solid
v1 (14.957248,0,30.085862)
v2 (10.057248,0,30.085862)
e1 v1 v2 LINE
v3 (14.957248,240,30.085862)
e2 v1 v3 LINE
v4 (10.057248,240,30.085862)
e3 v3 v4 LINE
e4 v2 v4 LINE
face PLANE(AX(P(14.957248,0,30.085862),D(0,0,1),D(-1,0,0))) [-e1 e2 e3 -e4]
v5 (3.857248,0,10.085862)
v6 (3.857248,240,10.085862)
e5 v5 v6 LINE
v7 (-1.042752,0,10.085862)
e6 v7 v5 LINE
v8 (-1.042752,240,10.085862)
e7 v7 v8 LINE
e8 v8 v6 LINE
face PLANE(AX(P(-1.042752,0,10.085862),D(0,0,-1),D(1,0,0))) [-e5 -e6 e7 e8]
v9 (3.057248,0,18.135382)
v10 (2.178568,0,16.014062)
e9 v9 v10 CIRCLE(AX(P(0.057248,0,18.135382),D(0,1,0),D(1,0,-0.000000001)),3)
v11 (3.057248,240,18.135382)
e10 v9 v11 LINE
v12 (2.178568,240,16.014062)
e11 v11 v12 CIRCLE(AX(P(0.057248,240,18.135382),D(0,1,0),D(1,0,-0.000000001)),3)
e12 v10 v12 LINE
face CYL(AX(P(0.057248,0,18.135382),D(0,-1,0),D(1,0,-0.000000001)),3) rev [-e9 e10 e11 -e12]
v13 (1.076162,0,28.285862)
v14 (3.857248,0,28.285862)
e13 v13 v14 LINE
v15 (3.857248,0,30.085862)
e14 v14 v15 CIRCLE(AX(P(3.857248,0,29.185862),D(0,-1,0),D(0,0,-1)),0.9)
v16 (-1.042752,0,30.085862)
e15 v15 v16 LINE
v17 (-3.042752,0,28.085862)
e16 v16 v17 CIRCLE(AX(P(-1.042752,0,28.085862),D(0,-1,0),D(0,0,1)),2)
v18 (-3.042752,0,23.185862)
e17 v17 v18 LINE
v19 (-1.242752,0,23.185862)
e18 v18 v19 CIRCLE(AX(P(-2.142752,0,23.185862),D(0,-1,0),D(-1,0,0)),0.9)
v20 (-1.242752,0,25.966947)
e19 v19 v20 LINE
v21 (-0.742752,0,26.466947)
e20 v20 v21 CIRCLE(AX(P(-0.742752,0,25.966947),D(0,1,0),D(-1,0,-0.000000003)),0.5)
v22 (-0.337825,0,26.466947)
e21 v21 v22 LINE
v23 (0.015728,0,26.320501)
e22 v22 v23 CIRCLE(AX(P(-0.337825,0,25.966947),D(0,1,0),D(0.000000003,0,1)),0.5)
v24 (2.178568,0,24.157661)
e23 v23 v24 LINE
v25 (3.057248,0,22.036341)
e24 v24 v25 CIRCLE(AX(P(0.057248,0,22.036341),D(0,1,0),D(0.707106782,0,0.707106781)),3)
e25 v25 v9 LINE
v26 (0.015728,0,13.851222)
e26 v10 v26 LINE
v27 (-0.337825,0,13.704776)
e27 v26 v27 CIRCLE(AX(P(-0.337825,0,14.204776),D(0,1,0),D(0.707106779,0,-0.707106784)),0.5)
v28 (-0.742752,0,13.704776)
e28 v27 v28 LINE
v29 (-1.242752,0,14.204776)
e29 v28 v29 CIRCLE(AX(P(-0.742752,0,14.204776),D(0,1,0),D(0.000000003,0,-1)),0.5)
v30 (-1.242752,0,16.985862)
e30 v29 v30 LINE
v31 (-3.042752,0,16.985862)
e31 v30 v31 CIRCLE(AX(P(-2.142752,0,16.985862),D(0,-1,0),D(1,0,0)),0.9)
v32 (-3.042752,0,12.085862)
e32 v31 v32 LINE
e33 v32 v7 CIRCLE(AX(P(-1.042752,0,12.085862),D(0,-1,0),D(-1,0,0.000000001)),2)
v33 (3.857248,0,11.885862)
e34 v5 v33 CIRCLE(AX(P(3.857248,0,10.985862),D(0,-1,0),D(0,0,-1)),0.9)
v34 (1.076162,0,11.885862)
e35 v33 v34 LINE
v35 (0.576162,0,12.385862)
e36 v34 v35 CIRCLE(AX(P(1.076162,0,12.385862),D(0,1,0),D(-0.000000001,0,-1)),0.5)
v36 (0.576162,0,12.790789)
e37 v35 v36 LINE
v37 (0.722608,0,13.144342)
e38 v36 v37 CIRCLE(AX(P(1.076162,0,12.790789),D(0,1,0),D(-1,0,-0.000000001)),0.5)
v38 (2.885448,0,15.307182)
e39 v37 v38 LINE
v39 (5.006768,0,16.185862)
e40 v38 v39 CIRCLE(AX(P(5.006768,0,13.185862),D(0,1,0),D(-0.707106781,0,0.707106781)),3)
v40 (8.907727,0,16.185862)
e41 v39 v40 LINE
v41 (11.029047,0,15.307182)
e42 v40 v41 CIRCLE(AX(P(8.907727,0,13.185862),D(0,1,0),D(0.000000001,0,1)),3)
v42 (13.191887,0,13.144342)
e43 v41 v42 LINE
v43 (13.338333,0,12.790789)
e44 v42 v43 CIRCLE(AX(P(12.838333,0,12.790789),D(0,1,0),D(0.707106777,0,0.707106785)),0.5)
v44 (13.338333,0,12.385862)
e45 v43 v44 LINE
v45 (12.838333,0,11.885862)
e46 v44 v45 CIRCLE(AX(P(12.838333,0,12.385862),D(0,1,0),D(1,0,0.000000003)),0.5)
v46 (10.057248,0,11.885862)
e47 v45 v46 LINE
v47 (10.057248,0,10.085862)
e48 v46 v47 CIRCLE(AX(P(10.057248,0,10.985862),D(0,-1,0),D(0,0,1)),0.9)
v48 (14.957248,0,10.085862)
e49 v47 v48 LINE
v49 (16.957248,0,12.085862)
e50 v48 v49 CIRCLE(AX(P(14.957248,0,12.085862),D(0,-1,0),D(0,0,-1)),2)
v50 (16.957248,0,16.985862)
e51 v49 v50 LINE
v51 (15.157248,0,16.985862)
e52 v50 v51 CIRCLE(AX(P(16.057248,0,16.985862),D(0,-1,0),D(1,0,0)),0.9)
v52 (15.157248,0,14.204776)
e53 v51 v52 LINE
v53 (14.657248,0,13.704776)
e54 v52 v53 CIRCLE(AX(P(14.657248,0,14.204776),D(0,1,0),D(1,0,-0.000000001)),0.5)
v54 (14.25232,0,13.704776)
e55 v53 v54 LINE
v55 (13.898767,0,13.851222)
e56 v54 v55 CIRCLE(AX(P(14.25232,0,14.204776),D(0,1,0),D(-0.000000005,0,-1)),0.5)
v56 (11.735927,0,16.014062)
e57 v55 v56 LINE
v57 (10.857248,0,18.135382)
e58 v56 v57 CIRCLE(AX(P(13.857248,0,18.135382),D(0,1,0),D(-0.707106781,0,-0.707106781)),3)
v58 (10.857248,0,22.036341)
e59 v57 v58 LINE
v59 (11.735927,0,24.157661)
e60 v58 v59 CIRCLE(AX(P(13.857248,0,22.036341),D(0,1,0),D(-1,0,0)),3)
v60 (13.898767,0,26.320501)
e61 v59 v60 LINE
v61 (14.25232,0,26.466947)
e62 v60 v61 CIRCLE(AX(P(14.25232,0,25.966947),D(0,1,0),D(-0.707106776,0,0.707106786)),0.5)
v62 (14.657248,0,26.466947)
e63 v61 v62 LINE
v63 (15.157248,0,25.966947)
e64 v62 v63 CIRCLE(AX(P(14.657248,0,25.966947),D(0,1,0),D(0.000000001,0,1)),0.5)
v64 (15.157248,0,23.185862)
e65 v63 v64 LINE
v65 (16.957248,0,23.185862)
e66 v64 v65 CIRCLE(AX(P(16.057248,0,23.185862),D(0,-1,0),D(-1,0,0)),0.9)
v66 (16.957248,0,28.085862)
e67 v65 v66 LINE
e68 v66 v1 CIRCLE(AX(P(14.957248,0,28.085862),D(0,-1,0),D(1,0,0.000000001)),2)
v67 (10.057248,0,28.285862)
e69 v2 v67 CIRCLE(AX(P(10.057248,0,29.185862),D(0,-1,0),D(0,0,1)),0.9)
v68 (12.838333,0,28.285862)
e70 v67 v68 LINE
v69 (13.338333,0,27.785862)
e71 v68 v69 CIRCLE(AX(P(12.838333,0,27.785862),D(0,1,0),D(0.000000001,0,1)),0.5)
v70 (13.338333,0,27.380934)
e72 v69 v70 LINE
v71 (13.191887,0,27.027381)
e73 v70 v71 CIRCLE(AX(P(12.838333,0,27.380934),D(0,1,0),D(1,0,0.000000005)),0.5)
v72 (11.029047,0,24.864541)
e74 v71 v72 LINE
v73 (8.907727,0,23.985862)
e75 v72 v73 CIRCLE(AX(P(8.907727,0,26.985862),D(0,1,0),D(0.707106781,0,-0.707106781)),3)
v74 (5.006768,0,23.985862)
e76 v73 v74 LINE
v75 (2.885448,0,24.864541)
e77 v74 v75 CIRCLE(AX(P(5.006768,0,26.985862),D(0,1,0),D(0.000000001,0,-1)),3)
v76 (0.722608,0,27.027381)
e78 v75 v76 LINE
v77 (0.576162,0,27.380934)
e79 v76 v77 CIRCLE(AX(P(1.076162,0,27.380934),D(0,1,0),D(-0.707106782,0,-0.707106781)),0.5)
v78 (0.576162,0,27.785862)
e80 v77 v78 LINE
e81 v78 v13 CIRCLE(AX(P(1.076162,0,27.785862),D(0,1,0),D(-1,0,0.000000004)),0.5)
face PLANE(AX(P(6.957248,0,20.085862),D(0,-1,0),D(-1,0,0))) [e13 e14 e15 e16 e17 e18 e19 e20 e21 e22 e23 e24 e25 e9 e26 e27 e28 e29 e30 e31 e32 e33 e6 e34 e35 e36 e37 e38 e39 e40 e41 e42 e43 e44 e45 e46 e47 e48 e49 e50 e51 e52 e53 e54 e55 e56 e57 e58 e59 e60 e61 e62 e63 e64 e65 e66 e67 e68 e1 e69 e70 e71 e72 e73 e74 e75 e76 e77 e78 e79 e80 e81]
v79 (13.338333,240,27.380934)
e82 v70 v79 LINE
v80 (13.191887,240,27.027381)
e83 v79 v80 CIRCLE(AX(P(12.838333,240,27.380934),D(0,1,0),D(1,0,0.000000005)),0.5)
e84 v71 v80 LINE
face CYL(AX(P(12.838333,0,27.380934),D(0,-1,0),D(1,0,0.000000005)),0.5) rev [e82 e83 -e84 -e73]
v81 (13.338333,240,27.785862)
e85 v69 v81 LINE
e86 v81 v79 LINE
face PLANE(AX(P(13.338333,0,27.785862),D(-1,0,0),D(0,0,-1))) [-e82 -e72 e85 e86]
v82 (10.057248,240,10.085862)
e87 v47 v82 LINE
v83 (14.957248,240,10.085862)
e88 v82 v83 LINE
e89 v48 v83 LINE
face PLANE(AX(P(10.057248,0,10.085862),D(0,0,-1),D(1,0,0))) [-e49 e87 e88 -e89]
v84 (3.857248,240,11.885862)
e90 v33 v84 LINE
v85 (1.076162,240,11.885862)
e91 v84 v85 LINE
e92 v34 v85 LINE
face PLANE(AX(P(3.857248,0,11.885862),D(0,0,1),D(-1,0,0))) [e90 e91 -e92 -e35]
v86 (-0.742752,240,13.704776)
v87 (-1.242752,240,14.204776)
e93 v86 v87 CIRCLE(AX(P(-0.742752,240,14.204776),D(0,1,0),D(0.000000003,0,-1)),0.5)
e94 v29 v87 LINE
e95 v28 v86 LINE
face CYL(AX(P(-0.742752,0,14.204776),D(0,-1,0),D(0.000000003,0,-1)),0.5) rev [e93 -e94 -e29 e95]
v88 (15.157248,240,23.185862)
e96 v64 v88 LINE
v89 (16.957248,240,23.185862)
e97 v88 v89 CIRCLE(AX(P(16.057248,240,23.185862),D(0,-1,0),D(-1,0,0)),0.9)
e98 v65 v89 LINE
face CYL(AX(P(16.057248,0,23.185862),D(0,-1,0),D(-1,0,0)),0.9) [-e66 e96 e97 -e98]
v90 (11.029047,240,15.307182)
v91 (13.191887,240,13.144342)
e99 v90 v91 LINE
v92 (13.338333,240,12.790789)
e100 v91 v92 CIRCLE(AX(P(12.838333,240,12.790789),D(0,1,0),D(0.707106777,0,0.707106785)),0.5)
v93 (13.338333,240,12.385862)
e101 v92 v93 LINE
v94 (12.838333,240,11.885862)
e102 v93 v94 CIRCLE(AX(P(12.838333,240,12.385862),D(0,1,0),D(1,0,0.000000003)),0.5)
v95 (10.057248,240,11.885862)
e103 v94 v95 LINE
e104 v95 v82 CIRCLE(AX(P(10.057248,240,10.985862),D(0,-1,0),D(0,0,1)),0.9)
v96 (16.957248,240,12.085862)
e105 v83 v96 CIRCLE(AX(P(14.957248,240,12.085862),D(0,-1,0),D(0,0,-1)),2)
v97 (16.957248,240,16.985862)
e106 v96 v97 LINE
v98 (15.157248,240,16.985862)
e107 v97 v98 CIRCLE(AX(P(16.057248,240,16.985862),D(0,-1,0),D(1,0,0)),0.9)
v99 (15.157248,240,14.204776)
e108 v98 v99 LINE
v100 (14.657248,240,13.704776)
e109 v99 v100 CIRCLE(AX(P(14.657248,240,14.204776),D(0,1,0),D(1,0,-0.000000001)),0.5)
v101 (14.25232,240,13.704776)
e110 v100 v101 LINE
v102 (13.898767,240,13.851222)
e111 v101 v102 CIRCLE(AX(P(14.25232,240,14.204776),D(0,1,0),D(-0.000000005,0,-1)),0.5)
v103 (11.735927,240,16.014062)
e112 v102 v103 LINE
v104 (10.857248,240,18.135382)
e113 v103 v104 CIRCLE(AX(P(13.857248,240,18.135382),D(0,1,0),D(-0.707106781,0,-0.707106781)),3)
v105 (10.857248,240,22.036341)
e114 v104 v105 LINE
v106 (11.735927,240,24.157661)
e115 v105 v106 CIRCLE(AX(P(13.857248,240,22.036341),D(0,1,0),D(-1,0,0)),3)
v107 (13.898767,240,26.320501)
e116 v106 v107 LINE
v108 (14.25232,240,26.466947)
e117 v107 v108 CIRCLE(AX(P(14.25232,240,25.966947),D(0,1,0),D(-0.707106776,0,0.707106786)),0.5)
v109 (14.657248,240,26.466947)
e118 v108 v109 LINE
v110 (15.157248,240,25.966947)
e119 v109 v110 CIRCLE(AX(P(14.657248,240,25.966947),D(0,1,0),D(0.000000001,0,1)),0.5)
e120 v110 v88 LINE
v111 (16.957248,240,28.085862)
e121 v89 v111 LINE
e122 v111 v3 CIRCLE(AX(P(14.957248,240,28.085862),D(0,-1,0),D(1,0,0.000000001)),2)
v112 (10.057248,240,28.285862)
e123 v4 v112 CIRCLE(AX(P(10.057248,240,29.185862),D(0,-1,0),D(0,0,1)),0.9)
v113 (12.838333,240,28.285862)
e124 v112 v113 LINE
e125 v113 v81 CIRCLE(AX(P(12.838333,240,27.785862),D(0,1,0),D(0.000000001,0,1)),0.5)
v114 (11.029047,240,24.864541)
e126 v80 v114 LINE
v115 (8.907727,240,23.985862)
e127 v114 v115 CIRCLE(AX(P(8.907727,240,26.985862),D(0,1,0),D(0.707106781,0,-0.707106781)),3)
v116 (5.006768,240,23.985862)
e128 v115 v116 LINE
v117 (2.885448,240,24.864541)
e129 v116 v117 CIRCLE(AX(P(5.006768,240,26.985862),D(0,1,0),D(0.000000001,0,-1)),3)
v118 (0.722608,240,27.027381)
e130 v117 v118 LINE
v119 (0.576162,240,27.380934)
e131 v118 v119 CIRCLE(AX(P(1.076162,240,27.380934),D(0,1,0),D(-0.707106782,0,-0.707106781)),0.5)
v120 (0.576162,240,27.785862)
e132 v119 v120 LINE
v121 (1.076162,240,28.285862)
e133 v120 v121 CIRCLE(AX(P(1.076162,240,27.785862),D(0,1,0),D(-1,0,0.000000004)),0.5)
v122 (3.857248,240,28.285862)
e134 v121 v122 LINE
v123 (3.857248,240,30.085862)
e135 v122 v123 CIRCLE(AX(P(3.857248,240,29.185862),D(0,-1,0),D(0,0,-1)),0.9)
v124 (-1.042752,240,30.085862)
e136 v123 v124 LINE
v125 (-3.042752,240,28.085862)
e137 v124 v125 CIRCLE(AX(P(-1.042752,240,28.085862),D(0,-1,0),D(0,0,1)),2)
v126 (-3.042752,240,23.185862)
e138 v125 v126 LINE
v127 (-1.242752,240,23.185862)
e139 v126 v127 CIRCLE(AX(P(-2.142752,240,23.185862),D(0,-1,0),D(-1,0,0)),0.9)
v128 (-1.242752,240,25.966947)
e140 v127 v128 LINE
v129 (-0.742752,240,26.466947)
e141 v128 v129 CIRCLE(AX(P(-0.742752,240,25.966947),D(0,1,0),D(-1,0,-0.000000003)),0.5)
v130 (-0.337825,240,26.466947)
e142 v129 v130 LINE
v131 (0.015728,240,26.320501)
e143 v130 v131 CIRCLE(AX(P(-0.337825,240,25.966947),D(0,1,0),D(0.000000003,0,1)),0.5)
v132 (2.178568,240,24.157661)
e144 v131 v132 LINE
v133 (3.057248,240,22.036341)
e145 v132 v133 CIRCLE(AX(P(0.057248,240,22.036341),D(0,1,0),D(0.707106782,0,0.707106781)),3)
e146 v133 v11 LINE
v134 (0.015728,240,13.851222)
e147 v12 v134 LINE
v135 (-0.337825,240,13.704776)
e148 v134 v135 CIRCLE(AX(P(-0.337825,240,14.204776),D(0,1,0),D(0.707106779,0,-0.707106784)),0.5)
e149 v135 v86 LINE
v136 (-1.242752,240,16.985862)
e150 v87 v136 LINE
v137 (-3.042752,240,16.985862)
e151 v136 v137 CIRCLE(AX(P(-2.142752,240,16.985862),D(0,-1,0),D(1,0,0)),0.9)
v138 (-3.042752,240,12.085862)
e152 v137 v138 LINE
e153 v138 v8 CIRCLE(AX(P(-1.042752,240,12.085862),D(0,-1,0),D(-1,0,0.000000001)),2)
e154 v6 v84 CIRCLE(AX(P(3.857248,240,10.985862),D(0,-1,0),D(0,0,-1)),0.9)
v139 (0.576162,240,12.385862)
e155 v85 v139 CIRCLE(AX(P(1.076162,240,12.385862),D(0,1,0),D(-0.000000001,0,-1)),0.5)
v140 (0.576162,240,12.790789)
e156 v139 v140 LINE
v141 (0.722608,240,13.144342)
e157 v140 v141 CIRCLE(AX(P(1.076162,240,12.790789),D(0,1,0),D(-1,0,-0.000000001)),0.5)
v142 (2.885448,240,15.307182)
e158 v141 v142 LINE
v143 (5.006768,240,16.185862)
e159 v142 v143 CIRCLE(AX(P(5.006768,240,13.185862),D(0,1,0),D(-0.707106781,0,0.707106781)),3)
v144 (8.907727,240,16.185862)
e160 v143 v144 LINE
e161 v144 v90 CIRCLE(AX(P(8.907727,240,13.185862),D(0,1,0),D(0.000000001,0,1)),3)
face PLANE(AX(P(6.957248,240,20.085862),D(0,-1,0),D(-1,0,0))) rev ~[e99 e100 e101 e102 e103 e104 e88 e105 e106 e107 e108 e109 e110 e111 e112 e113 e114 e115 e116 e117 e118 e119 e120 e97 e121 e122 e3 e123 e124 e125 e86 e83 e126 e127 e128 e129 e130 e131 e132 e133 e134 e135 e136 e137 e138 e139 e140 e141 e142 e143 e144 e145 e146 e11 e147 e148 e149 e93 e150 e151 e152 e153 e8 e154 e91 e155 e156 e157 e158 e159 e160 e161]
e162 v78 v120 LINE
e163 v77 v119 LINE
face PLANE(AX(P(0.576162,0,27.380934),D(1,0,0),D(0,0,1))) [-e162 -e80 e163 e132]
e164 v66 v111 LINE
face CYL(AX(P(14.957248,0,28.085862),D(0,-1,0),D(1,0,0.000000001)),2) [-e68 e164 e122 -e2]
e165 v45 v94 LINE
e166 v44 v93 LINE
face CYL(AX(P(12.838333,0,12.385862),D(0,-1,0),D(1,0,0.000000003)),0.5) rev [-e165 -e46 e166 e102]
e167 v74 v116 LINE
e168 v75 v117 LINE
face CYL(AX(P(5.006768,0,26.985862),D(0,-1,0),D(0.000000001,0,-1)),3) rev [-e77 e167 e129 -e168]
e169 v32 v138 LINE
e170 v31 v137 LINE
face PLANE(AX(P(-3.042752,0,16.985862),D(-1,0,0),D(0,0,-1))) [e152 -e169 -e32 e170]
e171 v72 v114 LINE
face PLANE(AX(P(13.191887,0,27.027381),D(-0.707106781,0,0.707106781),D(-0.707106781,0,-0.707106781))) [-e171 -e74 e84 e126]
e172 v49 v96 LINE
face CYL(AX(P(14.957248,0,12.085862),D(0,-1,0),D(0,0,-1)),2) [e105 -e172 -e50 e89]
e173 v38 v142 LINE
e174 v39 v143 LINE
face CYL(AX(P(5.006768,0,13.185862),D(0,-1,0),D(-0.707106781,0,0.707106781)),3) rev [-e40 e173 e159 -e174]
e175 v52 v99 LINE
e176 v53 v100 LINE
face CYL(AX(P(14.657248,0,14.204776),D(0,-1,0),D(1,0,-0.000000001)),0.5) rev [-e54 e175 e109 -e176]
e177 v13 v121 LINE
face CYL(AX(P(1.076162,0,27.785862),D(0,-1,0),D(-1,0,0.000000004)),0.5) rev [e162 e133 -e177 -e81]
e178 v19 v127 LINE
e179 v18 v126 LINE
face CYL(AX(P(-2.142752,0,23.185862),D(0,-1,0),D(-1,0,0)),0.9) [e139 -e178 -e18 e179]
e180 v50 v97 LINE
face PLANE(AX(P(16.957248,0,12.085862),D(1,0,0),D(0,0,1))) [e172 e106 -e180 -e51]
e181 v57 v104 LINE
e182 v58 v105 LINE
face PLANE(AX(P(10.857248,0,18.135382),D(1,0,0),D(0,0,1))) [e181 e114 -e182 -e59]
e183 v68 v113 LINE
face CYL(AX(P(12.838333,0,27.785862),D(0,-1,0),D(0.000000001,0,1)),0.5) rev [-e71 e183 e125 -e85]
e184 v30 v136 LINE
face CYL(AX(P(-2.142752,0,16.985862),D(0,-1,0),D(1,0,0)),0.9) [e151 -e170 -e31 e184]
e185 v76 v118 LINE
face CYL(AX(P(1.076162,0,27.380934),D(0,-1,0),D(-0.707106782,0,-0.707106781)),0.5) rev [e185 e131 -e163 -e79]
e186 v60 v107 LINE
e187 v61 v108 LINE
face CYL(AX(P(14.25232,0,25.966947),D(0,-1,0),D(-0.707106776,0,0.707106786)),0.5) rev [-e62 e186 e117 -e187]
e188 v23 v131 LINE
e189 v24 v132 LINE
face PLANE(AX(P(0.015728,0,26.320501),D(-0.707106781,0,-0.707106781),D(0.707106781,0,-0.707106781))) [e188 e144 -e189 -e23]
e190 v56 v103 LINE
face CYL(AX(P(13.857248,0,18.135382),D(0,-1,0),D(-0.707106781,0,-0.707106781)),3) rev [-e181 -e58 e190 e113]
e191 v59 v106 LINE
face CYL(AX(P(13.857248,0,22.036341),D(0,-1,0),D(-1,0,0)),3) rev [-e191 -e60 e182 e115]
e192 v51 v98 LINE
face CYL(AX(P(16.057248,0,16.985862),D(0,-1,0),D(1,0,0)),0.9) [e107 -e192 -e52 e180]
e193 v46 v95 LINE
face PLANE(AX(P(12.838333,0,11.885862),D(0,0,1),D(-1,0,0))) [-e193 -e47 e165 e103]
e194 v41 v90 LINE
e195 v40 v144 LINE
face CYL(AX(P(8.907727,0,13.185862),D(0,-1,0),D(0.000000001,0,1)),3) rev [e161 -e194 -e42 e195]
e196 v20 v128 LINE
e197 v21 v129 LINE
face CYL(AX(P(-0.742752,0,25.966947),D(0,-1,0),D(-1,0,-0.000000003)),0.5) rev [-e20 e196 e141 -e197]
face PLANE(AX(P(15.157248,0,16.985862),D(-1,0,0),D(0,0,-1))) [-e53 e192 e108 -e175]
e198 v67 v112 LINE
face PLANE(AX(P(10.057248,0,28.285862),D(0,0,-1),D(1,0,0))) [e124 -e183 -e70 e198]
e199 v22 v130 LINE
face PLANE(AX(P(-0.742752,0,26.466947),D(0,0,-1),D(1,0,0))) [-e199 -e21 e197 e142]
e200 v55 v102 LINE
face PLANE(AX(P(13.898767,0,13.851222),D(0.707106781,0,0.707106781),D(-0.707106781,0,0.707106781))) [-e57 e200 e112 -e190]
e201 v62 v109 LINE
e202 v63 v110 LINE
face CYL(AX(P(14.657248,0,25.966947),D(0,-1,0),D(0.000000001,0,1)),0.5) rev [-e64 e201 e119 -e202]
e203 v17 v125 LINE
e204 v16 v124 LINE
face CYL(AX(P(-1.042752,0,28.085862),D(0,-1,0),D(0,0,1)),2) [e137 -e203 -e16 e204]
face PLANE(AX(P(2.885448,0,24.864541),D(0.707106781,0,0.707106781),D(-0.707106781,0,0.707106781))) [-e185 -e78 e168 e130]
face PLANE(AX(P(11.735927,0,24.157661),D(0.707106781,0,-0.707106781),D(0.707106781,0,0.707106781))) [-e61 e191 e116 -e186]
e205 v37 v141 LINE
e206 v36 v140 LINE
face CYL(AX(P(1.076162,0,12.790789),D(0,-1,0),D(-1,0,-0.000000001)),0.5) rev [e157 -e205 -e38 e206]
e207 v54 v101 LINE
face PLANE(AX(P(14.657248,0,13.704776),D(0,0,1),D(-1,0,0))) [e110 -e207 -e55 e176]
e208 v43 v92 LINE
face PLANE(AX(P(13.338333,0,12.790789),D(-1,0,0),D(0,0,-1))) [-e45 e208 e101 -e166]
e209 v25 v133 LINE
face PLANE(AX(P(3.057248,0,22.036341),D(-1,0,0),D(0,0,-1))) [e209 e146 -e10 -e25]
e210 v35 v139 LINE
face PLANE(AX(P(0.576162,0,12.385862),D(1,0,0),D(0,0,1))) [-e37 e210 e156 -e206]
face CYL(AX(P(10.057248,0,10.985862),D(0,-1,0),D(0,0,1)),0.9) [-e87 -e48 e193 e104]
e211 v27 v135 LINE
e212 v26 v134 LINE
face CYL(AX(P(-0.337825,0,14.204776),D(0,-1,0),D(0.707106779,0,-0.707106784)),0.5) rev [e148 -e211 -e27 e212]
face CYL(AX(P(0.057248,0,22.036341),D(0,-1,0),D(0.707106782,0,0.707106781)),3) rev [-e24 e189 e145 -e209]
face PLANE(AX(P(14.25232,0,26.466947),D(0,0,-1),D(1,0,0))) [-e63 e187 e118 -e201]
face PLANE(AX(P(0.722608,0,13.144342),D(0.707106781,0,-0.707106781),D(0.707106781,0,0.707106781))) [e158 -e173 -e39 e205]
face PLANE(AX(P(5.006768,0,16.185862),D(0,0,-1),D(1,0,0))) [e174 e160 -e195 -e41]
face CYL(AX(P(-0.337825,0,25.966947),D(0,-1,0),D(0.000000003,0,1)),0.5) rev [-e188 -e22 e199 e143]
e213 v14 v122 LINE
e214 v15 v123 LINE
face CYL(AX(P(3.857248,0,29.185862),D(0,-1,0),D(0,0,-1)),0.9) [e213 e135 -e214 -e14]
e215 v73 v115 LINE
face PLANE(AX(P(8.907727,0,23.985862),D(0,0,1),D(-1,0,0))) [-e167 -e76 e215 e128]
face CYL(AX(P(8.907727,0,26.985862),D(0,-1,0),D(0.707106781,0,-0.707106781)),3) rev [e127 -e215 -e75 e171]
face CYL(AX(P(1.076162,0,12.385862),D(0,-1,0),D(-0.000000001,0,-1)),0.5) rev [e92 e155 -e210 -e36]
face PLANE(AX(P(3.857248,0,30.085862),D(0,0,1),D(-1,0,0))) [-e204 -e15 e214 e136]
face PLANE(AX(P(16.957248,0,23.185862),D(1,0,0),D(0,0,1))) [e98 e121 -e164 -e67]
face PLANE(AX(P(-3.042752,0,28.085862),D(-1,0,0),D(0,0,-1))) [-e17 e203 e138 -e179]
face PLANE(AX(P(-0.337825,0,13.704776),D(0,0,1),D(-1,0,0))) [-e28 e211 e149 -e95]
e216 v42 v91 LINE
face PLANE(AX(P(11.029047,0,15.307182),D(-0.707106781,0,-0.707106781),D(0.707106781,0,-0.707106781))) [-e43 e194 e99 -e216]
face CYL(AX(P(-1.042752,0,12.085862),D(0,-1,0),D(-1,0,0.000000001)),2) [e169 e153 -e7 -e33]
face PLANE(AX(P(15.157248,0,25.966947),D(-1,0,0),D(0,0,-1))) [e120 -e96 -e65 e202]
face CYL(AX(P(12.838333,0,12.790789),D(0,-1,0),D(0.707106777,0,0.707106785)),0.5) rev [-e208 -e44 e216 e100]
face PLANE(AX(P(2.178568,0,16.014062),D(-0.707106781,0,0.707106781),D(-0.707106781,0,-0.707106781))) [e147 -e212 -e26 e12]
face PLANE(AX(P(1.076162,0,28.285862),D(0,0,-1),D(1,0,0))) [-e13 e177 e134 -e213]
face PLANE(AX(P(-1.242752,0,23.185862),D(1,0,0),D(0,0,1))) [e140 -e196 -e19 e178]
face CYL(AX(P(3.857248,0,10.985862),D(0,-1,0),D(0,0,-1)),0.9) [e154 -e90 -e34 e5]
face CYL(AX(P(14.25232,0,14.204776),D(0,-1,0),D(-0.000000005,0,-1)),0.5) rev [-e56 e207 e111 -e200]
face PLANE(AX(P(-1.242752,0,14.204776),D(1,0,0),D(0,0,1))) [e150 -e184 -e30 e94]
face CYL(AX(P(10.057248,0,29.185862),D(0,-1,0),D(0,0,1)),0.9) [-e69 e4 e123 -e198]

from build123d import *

# Parameters (mm, degrees)
EXTRUDE_1_DEPTH = 240


with BuildPart() as part:
    # 草图1 → 凸台-拉伸1 (new body)
    with BuildSketch(Plane(origin=(0, 0, 0), x_dir=(1, 0, 0), z_dir=(0, 1, 0))):
        with BuildLine():
            Line((-1.042752475, -10.085861632), (3.857247525, -10.085861632))
            ThreePointArc((3.857247525, -10.085861632), (4.757247525, -10.985861632), (3.857247525, -11.885861632))
            Line((3.857247525, -11.885861632), (1.076161722, -11.885861632))
            ThreePointArc((1.076161722, -11.885861632), (0.722608332, -12.032308241), (0.576161722, -12.385861632))
            Line((0.576161722, -12.385861632), (0.576161722, -12.790788968))
            ThreePointArc((0.576161722, -12.790788968), (0.614221956, -12.982130685), (0.722608332, -13.144342359))
            Line((0.722608332, -13.144342359), (2.885447948, -15.307181975))
            ThreePointArc((2.885447948, -15.307181975), (3.858717994, -15.957500229), (5.006768291, -16.185861632))
            Line((5.006768291, -16.185861632), (8.907726758, -16.185861632))
            ThreePointArc((8.907726758, -16.185861632), (10.055777055, -15.957500229), (11.029047102, -15.307181975))
            Line((11.029047102, -15.307181975), (13.191886718, -13.144342359))
            ThreePointArc((13.191886718, -13.144342359), (13.300273094, -12.982130685), (13.338333327, -12.790788968))
            Line((13.338333327, -12.790788968), (13.338333327, -12.385861632))
            ThreePointArc((13.338333327, -12.385861632), (13.191886718, -12.032308241), (12.838333327, -11.885861632))
            Line((12.838333327, -11.885861632), (10.057247525, -11.885861632))
            ThreePointArc((10.057247525, -11.885861632), (9.157247525, -10.985861632), (10.057247525, -10.085861632))
            Line((10.057247525, -10.085861632), (14.957247525, -10.085861632))
            ThreePointArc((14.957247525, -10.085861632), (16.371461087, -10.671648069), (16.957247525, -12.085861632))
            Line((16.957247525, -12.085861632), (16.957247525, -16.985861632))
            ThreePointArc((16.957247525, -16.985861632), (16.057247525, -17.885861632), (15.157247525, -16.985861632))
            Line((15.157247525, -16.985861632), (15.157247525, -14.204775829))
            ThreePointArc((15.157247525, -14.204775829), (15.010800915, -13.851222438), (14.657247525, -13.704775829))
            Line((14.657247525, -13.704775829), (14.252320188, -13.704775829))
            ThreePointArc((14.252320188, -13.704775829), (14.060978472, -13.742836063), (13.898766797, -13.851222438))
            Line((13.898766797, -13.851222438), (11.735927181, -16.014062054))
            ThreePointArc((11.735927181, -16.014062054), (11.085608927, -16.987332101), (10.857247525, -18.135382398))
            Line((10.857247525, -18.135382398), (10.857247525, -22.036340865))
            ThreePointArc((10.857247525, -22.036340865), (11.085608927, -23.184391162), (11.735927181, -24.157661209))
            Line((11.735927181, -24.157661209), (13.898766797, -26.320500825))
            ThreePointArc((13.898766797, -26.320500825), (14.060978472, -26.4288872), (14.252320188, -26.466947434))
            Line((14.252320188, -26.466947434), (14.657247525, -26.466947434))
            ThreePointArc((14.657247525, -26.466947434), (15.010800915, -26.320500825), (15.157247525, -25.966947434))
            Line((15.157247525, -25.966947434), (15.157247525, -23.185861632))
            ThreePointArc((15.157247525, -23.185861632), (16.057247525, -22.285861632), (16.957247525, -23.185861632))
            Line((16.957247525, -23.185861632), (16.957247525, -28.085861632))
            ThreePointArc((16.957247525, -28.085861632), (16.371461087, -29.500075194), (14.957247525, -30.085861632))
            Line((14.957247525, -30.085861632), (10.057247525, -30.085861632))
            ThreePointArc((10.057247525, -30.085861632), (9.157247525, -29.185861632), (10.057247525, -28.285861632))
            Line((10.057247525, -28.285861632), (12.838333327, -28.285861632))
            ThreePointArc((12.838333327, -28.285861632), (13.191886718, -28.139415022), (13.338333327, -27.785861632))
            Line((13.338333327, -27.785861632), (13.338333327, -27.380934295))
            ThreePointArc((13.338333327, -27.380934295), (13.300273094, -27.189592579), (13.191886718, -27.027380904))
            Line((13.191886718, -27.027380904), (11.029047102, -24.864541288))
            ThreePointArc((11.029047102, -24.864541288), (10.055777055, -24.214223034), (8.907726758, -23.985861632))
            Line((8.907726758, -23.985861632), (5.006768291, -23.985861632))
            ThreePointArc((5.006768291, -23.985861632), (3.858717994, -24.214223034), (2.885447948, -24.864541288))
            Line((2.885447948, -24.864541288), (0.722608332, -27.027380904))
            ThreePointArc((0.722608332, -27.027380904), (0.614221956, -27.189592579), (0.576161722, -27.380934295))
            Line((0.576161722, -27.380934295), (0.576161722, -27.785861632))
            ThreePointArc((0.576161722, -27.785861632), (0.722608332, -28.139415022), (1.076161722, -28.285861632))
            Line((1.076161722, -28.285861632), (3.857247525, -28.285861632))
            ThreePointArc((3.857247525, -28.285861632), (4.757247525, -29.185861632), (3.857247525, -30.085861632))
            Line((3.857247525, -30.085861632), (-1.042752475, -30.085861632))
            ThreePointArc((-1.042752475, -30.085861632), (-2.456966038, -29.500075194), (-3.042752475, -28.085861632))
            Line((-3.042752475, -28.085861632), (-3.042752475, -23.185861632))
            ThreePointArc((-3.042752475, -23.185861632), (-2.142752475, -22.285861632), (-1.242752475, -23.185861632))
            Line((-1.242752475, -23.185861632), (-1.242752475, -25.966947434))
            ThreePointArc((-1.242752475, -25.966947434), (-1.096305866, -26.320500825), (-0.742752475, -26.466947434))
            Line((-0.742752475, -26.466947434), (-0.337825138, -26.466947434))
            ThreePointArc((-0.337825138, -26.466947434), (-0.146483422, -26.4288872), (0.015728252, -26.320500825))
            Line((0.015728252, -26.320500825), (2.178567868, -24.157661209))
            ThreePointArc((2.178567868, -24.157661209), (2.828886122, -23.184391162), (3.057247525, -22.036340865))
            Line((3.057247525, -22.036340865), (3.057247525, -18.135382398))
            ThreePointArc((3.057247525, -18.135382398), (2.828886122, -16.987332101), (2.178567868, -16.014062054))
            Line((2.178567868, -16.014062054), (0.015728252, -13.851222438))
            ThreePointArc((0.015728252, -13.851222438), (-0.146483422, -13.742836063), (-0.337825138, -13.704775829))
            Line((-0.337825138, -13.704775829), (-0.742752475, -13.704775829))
            ThreePointArc((-0.742752475, -13.704775829), (-1.096305866, -13.851222438), (-1.242752475, -14.204775829))
            Line((-1.242752475, -14.204775829), (-1.242752475, -16.985861632))
            ThreePointArc((-1.242752475, -16.985861632), (-2.142752475, -17.885861632), (-3.042752475, -16.985861632))
            Line((-3.042752475, -16.985861632), (-3.042752475, -12.085861632))
            ThreePointArc((-3.042752475, -12.085861632), (-2.456966038, -10.671648069), (-1.042752475, -10.085861632))
        make_face()
    extrude(amount=EXTRUDE_1_DEPTH)


solid = part.part
